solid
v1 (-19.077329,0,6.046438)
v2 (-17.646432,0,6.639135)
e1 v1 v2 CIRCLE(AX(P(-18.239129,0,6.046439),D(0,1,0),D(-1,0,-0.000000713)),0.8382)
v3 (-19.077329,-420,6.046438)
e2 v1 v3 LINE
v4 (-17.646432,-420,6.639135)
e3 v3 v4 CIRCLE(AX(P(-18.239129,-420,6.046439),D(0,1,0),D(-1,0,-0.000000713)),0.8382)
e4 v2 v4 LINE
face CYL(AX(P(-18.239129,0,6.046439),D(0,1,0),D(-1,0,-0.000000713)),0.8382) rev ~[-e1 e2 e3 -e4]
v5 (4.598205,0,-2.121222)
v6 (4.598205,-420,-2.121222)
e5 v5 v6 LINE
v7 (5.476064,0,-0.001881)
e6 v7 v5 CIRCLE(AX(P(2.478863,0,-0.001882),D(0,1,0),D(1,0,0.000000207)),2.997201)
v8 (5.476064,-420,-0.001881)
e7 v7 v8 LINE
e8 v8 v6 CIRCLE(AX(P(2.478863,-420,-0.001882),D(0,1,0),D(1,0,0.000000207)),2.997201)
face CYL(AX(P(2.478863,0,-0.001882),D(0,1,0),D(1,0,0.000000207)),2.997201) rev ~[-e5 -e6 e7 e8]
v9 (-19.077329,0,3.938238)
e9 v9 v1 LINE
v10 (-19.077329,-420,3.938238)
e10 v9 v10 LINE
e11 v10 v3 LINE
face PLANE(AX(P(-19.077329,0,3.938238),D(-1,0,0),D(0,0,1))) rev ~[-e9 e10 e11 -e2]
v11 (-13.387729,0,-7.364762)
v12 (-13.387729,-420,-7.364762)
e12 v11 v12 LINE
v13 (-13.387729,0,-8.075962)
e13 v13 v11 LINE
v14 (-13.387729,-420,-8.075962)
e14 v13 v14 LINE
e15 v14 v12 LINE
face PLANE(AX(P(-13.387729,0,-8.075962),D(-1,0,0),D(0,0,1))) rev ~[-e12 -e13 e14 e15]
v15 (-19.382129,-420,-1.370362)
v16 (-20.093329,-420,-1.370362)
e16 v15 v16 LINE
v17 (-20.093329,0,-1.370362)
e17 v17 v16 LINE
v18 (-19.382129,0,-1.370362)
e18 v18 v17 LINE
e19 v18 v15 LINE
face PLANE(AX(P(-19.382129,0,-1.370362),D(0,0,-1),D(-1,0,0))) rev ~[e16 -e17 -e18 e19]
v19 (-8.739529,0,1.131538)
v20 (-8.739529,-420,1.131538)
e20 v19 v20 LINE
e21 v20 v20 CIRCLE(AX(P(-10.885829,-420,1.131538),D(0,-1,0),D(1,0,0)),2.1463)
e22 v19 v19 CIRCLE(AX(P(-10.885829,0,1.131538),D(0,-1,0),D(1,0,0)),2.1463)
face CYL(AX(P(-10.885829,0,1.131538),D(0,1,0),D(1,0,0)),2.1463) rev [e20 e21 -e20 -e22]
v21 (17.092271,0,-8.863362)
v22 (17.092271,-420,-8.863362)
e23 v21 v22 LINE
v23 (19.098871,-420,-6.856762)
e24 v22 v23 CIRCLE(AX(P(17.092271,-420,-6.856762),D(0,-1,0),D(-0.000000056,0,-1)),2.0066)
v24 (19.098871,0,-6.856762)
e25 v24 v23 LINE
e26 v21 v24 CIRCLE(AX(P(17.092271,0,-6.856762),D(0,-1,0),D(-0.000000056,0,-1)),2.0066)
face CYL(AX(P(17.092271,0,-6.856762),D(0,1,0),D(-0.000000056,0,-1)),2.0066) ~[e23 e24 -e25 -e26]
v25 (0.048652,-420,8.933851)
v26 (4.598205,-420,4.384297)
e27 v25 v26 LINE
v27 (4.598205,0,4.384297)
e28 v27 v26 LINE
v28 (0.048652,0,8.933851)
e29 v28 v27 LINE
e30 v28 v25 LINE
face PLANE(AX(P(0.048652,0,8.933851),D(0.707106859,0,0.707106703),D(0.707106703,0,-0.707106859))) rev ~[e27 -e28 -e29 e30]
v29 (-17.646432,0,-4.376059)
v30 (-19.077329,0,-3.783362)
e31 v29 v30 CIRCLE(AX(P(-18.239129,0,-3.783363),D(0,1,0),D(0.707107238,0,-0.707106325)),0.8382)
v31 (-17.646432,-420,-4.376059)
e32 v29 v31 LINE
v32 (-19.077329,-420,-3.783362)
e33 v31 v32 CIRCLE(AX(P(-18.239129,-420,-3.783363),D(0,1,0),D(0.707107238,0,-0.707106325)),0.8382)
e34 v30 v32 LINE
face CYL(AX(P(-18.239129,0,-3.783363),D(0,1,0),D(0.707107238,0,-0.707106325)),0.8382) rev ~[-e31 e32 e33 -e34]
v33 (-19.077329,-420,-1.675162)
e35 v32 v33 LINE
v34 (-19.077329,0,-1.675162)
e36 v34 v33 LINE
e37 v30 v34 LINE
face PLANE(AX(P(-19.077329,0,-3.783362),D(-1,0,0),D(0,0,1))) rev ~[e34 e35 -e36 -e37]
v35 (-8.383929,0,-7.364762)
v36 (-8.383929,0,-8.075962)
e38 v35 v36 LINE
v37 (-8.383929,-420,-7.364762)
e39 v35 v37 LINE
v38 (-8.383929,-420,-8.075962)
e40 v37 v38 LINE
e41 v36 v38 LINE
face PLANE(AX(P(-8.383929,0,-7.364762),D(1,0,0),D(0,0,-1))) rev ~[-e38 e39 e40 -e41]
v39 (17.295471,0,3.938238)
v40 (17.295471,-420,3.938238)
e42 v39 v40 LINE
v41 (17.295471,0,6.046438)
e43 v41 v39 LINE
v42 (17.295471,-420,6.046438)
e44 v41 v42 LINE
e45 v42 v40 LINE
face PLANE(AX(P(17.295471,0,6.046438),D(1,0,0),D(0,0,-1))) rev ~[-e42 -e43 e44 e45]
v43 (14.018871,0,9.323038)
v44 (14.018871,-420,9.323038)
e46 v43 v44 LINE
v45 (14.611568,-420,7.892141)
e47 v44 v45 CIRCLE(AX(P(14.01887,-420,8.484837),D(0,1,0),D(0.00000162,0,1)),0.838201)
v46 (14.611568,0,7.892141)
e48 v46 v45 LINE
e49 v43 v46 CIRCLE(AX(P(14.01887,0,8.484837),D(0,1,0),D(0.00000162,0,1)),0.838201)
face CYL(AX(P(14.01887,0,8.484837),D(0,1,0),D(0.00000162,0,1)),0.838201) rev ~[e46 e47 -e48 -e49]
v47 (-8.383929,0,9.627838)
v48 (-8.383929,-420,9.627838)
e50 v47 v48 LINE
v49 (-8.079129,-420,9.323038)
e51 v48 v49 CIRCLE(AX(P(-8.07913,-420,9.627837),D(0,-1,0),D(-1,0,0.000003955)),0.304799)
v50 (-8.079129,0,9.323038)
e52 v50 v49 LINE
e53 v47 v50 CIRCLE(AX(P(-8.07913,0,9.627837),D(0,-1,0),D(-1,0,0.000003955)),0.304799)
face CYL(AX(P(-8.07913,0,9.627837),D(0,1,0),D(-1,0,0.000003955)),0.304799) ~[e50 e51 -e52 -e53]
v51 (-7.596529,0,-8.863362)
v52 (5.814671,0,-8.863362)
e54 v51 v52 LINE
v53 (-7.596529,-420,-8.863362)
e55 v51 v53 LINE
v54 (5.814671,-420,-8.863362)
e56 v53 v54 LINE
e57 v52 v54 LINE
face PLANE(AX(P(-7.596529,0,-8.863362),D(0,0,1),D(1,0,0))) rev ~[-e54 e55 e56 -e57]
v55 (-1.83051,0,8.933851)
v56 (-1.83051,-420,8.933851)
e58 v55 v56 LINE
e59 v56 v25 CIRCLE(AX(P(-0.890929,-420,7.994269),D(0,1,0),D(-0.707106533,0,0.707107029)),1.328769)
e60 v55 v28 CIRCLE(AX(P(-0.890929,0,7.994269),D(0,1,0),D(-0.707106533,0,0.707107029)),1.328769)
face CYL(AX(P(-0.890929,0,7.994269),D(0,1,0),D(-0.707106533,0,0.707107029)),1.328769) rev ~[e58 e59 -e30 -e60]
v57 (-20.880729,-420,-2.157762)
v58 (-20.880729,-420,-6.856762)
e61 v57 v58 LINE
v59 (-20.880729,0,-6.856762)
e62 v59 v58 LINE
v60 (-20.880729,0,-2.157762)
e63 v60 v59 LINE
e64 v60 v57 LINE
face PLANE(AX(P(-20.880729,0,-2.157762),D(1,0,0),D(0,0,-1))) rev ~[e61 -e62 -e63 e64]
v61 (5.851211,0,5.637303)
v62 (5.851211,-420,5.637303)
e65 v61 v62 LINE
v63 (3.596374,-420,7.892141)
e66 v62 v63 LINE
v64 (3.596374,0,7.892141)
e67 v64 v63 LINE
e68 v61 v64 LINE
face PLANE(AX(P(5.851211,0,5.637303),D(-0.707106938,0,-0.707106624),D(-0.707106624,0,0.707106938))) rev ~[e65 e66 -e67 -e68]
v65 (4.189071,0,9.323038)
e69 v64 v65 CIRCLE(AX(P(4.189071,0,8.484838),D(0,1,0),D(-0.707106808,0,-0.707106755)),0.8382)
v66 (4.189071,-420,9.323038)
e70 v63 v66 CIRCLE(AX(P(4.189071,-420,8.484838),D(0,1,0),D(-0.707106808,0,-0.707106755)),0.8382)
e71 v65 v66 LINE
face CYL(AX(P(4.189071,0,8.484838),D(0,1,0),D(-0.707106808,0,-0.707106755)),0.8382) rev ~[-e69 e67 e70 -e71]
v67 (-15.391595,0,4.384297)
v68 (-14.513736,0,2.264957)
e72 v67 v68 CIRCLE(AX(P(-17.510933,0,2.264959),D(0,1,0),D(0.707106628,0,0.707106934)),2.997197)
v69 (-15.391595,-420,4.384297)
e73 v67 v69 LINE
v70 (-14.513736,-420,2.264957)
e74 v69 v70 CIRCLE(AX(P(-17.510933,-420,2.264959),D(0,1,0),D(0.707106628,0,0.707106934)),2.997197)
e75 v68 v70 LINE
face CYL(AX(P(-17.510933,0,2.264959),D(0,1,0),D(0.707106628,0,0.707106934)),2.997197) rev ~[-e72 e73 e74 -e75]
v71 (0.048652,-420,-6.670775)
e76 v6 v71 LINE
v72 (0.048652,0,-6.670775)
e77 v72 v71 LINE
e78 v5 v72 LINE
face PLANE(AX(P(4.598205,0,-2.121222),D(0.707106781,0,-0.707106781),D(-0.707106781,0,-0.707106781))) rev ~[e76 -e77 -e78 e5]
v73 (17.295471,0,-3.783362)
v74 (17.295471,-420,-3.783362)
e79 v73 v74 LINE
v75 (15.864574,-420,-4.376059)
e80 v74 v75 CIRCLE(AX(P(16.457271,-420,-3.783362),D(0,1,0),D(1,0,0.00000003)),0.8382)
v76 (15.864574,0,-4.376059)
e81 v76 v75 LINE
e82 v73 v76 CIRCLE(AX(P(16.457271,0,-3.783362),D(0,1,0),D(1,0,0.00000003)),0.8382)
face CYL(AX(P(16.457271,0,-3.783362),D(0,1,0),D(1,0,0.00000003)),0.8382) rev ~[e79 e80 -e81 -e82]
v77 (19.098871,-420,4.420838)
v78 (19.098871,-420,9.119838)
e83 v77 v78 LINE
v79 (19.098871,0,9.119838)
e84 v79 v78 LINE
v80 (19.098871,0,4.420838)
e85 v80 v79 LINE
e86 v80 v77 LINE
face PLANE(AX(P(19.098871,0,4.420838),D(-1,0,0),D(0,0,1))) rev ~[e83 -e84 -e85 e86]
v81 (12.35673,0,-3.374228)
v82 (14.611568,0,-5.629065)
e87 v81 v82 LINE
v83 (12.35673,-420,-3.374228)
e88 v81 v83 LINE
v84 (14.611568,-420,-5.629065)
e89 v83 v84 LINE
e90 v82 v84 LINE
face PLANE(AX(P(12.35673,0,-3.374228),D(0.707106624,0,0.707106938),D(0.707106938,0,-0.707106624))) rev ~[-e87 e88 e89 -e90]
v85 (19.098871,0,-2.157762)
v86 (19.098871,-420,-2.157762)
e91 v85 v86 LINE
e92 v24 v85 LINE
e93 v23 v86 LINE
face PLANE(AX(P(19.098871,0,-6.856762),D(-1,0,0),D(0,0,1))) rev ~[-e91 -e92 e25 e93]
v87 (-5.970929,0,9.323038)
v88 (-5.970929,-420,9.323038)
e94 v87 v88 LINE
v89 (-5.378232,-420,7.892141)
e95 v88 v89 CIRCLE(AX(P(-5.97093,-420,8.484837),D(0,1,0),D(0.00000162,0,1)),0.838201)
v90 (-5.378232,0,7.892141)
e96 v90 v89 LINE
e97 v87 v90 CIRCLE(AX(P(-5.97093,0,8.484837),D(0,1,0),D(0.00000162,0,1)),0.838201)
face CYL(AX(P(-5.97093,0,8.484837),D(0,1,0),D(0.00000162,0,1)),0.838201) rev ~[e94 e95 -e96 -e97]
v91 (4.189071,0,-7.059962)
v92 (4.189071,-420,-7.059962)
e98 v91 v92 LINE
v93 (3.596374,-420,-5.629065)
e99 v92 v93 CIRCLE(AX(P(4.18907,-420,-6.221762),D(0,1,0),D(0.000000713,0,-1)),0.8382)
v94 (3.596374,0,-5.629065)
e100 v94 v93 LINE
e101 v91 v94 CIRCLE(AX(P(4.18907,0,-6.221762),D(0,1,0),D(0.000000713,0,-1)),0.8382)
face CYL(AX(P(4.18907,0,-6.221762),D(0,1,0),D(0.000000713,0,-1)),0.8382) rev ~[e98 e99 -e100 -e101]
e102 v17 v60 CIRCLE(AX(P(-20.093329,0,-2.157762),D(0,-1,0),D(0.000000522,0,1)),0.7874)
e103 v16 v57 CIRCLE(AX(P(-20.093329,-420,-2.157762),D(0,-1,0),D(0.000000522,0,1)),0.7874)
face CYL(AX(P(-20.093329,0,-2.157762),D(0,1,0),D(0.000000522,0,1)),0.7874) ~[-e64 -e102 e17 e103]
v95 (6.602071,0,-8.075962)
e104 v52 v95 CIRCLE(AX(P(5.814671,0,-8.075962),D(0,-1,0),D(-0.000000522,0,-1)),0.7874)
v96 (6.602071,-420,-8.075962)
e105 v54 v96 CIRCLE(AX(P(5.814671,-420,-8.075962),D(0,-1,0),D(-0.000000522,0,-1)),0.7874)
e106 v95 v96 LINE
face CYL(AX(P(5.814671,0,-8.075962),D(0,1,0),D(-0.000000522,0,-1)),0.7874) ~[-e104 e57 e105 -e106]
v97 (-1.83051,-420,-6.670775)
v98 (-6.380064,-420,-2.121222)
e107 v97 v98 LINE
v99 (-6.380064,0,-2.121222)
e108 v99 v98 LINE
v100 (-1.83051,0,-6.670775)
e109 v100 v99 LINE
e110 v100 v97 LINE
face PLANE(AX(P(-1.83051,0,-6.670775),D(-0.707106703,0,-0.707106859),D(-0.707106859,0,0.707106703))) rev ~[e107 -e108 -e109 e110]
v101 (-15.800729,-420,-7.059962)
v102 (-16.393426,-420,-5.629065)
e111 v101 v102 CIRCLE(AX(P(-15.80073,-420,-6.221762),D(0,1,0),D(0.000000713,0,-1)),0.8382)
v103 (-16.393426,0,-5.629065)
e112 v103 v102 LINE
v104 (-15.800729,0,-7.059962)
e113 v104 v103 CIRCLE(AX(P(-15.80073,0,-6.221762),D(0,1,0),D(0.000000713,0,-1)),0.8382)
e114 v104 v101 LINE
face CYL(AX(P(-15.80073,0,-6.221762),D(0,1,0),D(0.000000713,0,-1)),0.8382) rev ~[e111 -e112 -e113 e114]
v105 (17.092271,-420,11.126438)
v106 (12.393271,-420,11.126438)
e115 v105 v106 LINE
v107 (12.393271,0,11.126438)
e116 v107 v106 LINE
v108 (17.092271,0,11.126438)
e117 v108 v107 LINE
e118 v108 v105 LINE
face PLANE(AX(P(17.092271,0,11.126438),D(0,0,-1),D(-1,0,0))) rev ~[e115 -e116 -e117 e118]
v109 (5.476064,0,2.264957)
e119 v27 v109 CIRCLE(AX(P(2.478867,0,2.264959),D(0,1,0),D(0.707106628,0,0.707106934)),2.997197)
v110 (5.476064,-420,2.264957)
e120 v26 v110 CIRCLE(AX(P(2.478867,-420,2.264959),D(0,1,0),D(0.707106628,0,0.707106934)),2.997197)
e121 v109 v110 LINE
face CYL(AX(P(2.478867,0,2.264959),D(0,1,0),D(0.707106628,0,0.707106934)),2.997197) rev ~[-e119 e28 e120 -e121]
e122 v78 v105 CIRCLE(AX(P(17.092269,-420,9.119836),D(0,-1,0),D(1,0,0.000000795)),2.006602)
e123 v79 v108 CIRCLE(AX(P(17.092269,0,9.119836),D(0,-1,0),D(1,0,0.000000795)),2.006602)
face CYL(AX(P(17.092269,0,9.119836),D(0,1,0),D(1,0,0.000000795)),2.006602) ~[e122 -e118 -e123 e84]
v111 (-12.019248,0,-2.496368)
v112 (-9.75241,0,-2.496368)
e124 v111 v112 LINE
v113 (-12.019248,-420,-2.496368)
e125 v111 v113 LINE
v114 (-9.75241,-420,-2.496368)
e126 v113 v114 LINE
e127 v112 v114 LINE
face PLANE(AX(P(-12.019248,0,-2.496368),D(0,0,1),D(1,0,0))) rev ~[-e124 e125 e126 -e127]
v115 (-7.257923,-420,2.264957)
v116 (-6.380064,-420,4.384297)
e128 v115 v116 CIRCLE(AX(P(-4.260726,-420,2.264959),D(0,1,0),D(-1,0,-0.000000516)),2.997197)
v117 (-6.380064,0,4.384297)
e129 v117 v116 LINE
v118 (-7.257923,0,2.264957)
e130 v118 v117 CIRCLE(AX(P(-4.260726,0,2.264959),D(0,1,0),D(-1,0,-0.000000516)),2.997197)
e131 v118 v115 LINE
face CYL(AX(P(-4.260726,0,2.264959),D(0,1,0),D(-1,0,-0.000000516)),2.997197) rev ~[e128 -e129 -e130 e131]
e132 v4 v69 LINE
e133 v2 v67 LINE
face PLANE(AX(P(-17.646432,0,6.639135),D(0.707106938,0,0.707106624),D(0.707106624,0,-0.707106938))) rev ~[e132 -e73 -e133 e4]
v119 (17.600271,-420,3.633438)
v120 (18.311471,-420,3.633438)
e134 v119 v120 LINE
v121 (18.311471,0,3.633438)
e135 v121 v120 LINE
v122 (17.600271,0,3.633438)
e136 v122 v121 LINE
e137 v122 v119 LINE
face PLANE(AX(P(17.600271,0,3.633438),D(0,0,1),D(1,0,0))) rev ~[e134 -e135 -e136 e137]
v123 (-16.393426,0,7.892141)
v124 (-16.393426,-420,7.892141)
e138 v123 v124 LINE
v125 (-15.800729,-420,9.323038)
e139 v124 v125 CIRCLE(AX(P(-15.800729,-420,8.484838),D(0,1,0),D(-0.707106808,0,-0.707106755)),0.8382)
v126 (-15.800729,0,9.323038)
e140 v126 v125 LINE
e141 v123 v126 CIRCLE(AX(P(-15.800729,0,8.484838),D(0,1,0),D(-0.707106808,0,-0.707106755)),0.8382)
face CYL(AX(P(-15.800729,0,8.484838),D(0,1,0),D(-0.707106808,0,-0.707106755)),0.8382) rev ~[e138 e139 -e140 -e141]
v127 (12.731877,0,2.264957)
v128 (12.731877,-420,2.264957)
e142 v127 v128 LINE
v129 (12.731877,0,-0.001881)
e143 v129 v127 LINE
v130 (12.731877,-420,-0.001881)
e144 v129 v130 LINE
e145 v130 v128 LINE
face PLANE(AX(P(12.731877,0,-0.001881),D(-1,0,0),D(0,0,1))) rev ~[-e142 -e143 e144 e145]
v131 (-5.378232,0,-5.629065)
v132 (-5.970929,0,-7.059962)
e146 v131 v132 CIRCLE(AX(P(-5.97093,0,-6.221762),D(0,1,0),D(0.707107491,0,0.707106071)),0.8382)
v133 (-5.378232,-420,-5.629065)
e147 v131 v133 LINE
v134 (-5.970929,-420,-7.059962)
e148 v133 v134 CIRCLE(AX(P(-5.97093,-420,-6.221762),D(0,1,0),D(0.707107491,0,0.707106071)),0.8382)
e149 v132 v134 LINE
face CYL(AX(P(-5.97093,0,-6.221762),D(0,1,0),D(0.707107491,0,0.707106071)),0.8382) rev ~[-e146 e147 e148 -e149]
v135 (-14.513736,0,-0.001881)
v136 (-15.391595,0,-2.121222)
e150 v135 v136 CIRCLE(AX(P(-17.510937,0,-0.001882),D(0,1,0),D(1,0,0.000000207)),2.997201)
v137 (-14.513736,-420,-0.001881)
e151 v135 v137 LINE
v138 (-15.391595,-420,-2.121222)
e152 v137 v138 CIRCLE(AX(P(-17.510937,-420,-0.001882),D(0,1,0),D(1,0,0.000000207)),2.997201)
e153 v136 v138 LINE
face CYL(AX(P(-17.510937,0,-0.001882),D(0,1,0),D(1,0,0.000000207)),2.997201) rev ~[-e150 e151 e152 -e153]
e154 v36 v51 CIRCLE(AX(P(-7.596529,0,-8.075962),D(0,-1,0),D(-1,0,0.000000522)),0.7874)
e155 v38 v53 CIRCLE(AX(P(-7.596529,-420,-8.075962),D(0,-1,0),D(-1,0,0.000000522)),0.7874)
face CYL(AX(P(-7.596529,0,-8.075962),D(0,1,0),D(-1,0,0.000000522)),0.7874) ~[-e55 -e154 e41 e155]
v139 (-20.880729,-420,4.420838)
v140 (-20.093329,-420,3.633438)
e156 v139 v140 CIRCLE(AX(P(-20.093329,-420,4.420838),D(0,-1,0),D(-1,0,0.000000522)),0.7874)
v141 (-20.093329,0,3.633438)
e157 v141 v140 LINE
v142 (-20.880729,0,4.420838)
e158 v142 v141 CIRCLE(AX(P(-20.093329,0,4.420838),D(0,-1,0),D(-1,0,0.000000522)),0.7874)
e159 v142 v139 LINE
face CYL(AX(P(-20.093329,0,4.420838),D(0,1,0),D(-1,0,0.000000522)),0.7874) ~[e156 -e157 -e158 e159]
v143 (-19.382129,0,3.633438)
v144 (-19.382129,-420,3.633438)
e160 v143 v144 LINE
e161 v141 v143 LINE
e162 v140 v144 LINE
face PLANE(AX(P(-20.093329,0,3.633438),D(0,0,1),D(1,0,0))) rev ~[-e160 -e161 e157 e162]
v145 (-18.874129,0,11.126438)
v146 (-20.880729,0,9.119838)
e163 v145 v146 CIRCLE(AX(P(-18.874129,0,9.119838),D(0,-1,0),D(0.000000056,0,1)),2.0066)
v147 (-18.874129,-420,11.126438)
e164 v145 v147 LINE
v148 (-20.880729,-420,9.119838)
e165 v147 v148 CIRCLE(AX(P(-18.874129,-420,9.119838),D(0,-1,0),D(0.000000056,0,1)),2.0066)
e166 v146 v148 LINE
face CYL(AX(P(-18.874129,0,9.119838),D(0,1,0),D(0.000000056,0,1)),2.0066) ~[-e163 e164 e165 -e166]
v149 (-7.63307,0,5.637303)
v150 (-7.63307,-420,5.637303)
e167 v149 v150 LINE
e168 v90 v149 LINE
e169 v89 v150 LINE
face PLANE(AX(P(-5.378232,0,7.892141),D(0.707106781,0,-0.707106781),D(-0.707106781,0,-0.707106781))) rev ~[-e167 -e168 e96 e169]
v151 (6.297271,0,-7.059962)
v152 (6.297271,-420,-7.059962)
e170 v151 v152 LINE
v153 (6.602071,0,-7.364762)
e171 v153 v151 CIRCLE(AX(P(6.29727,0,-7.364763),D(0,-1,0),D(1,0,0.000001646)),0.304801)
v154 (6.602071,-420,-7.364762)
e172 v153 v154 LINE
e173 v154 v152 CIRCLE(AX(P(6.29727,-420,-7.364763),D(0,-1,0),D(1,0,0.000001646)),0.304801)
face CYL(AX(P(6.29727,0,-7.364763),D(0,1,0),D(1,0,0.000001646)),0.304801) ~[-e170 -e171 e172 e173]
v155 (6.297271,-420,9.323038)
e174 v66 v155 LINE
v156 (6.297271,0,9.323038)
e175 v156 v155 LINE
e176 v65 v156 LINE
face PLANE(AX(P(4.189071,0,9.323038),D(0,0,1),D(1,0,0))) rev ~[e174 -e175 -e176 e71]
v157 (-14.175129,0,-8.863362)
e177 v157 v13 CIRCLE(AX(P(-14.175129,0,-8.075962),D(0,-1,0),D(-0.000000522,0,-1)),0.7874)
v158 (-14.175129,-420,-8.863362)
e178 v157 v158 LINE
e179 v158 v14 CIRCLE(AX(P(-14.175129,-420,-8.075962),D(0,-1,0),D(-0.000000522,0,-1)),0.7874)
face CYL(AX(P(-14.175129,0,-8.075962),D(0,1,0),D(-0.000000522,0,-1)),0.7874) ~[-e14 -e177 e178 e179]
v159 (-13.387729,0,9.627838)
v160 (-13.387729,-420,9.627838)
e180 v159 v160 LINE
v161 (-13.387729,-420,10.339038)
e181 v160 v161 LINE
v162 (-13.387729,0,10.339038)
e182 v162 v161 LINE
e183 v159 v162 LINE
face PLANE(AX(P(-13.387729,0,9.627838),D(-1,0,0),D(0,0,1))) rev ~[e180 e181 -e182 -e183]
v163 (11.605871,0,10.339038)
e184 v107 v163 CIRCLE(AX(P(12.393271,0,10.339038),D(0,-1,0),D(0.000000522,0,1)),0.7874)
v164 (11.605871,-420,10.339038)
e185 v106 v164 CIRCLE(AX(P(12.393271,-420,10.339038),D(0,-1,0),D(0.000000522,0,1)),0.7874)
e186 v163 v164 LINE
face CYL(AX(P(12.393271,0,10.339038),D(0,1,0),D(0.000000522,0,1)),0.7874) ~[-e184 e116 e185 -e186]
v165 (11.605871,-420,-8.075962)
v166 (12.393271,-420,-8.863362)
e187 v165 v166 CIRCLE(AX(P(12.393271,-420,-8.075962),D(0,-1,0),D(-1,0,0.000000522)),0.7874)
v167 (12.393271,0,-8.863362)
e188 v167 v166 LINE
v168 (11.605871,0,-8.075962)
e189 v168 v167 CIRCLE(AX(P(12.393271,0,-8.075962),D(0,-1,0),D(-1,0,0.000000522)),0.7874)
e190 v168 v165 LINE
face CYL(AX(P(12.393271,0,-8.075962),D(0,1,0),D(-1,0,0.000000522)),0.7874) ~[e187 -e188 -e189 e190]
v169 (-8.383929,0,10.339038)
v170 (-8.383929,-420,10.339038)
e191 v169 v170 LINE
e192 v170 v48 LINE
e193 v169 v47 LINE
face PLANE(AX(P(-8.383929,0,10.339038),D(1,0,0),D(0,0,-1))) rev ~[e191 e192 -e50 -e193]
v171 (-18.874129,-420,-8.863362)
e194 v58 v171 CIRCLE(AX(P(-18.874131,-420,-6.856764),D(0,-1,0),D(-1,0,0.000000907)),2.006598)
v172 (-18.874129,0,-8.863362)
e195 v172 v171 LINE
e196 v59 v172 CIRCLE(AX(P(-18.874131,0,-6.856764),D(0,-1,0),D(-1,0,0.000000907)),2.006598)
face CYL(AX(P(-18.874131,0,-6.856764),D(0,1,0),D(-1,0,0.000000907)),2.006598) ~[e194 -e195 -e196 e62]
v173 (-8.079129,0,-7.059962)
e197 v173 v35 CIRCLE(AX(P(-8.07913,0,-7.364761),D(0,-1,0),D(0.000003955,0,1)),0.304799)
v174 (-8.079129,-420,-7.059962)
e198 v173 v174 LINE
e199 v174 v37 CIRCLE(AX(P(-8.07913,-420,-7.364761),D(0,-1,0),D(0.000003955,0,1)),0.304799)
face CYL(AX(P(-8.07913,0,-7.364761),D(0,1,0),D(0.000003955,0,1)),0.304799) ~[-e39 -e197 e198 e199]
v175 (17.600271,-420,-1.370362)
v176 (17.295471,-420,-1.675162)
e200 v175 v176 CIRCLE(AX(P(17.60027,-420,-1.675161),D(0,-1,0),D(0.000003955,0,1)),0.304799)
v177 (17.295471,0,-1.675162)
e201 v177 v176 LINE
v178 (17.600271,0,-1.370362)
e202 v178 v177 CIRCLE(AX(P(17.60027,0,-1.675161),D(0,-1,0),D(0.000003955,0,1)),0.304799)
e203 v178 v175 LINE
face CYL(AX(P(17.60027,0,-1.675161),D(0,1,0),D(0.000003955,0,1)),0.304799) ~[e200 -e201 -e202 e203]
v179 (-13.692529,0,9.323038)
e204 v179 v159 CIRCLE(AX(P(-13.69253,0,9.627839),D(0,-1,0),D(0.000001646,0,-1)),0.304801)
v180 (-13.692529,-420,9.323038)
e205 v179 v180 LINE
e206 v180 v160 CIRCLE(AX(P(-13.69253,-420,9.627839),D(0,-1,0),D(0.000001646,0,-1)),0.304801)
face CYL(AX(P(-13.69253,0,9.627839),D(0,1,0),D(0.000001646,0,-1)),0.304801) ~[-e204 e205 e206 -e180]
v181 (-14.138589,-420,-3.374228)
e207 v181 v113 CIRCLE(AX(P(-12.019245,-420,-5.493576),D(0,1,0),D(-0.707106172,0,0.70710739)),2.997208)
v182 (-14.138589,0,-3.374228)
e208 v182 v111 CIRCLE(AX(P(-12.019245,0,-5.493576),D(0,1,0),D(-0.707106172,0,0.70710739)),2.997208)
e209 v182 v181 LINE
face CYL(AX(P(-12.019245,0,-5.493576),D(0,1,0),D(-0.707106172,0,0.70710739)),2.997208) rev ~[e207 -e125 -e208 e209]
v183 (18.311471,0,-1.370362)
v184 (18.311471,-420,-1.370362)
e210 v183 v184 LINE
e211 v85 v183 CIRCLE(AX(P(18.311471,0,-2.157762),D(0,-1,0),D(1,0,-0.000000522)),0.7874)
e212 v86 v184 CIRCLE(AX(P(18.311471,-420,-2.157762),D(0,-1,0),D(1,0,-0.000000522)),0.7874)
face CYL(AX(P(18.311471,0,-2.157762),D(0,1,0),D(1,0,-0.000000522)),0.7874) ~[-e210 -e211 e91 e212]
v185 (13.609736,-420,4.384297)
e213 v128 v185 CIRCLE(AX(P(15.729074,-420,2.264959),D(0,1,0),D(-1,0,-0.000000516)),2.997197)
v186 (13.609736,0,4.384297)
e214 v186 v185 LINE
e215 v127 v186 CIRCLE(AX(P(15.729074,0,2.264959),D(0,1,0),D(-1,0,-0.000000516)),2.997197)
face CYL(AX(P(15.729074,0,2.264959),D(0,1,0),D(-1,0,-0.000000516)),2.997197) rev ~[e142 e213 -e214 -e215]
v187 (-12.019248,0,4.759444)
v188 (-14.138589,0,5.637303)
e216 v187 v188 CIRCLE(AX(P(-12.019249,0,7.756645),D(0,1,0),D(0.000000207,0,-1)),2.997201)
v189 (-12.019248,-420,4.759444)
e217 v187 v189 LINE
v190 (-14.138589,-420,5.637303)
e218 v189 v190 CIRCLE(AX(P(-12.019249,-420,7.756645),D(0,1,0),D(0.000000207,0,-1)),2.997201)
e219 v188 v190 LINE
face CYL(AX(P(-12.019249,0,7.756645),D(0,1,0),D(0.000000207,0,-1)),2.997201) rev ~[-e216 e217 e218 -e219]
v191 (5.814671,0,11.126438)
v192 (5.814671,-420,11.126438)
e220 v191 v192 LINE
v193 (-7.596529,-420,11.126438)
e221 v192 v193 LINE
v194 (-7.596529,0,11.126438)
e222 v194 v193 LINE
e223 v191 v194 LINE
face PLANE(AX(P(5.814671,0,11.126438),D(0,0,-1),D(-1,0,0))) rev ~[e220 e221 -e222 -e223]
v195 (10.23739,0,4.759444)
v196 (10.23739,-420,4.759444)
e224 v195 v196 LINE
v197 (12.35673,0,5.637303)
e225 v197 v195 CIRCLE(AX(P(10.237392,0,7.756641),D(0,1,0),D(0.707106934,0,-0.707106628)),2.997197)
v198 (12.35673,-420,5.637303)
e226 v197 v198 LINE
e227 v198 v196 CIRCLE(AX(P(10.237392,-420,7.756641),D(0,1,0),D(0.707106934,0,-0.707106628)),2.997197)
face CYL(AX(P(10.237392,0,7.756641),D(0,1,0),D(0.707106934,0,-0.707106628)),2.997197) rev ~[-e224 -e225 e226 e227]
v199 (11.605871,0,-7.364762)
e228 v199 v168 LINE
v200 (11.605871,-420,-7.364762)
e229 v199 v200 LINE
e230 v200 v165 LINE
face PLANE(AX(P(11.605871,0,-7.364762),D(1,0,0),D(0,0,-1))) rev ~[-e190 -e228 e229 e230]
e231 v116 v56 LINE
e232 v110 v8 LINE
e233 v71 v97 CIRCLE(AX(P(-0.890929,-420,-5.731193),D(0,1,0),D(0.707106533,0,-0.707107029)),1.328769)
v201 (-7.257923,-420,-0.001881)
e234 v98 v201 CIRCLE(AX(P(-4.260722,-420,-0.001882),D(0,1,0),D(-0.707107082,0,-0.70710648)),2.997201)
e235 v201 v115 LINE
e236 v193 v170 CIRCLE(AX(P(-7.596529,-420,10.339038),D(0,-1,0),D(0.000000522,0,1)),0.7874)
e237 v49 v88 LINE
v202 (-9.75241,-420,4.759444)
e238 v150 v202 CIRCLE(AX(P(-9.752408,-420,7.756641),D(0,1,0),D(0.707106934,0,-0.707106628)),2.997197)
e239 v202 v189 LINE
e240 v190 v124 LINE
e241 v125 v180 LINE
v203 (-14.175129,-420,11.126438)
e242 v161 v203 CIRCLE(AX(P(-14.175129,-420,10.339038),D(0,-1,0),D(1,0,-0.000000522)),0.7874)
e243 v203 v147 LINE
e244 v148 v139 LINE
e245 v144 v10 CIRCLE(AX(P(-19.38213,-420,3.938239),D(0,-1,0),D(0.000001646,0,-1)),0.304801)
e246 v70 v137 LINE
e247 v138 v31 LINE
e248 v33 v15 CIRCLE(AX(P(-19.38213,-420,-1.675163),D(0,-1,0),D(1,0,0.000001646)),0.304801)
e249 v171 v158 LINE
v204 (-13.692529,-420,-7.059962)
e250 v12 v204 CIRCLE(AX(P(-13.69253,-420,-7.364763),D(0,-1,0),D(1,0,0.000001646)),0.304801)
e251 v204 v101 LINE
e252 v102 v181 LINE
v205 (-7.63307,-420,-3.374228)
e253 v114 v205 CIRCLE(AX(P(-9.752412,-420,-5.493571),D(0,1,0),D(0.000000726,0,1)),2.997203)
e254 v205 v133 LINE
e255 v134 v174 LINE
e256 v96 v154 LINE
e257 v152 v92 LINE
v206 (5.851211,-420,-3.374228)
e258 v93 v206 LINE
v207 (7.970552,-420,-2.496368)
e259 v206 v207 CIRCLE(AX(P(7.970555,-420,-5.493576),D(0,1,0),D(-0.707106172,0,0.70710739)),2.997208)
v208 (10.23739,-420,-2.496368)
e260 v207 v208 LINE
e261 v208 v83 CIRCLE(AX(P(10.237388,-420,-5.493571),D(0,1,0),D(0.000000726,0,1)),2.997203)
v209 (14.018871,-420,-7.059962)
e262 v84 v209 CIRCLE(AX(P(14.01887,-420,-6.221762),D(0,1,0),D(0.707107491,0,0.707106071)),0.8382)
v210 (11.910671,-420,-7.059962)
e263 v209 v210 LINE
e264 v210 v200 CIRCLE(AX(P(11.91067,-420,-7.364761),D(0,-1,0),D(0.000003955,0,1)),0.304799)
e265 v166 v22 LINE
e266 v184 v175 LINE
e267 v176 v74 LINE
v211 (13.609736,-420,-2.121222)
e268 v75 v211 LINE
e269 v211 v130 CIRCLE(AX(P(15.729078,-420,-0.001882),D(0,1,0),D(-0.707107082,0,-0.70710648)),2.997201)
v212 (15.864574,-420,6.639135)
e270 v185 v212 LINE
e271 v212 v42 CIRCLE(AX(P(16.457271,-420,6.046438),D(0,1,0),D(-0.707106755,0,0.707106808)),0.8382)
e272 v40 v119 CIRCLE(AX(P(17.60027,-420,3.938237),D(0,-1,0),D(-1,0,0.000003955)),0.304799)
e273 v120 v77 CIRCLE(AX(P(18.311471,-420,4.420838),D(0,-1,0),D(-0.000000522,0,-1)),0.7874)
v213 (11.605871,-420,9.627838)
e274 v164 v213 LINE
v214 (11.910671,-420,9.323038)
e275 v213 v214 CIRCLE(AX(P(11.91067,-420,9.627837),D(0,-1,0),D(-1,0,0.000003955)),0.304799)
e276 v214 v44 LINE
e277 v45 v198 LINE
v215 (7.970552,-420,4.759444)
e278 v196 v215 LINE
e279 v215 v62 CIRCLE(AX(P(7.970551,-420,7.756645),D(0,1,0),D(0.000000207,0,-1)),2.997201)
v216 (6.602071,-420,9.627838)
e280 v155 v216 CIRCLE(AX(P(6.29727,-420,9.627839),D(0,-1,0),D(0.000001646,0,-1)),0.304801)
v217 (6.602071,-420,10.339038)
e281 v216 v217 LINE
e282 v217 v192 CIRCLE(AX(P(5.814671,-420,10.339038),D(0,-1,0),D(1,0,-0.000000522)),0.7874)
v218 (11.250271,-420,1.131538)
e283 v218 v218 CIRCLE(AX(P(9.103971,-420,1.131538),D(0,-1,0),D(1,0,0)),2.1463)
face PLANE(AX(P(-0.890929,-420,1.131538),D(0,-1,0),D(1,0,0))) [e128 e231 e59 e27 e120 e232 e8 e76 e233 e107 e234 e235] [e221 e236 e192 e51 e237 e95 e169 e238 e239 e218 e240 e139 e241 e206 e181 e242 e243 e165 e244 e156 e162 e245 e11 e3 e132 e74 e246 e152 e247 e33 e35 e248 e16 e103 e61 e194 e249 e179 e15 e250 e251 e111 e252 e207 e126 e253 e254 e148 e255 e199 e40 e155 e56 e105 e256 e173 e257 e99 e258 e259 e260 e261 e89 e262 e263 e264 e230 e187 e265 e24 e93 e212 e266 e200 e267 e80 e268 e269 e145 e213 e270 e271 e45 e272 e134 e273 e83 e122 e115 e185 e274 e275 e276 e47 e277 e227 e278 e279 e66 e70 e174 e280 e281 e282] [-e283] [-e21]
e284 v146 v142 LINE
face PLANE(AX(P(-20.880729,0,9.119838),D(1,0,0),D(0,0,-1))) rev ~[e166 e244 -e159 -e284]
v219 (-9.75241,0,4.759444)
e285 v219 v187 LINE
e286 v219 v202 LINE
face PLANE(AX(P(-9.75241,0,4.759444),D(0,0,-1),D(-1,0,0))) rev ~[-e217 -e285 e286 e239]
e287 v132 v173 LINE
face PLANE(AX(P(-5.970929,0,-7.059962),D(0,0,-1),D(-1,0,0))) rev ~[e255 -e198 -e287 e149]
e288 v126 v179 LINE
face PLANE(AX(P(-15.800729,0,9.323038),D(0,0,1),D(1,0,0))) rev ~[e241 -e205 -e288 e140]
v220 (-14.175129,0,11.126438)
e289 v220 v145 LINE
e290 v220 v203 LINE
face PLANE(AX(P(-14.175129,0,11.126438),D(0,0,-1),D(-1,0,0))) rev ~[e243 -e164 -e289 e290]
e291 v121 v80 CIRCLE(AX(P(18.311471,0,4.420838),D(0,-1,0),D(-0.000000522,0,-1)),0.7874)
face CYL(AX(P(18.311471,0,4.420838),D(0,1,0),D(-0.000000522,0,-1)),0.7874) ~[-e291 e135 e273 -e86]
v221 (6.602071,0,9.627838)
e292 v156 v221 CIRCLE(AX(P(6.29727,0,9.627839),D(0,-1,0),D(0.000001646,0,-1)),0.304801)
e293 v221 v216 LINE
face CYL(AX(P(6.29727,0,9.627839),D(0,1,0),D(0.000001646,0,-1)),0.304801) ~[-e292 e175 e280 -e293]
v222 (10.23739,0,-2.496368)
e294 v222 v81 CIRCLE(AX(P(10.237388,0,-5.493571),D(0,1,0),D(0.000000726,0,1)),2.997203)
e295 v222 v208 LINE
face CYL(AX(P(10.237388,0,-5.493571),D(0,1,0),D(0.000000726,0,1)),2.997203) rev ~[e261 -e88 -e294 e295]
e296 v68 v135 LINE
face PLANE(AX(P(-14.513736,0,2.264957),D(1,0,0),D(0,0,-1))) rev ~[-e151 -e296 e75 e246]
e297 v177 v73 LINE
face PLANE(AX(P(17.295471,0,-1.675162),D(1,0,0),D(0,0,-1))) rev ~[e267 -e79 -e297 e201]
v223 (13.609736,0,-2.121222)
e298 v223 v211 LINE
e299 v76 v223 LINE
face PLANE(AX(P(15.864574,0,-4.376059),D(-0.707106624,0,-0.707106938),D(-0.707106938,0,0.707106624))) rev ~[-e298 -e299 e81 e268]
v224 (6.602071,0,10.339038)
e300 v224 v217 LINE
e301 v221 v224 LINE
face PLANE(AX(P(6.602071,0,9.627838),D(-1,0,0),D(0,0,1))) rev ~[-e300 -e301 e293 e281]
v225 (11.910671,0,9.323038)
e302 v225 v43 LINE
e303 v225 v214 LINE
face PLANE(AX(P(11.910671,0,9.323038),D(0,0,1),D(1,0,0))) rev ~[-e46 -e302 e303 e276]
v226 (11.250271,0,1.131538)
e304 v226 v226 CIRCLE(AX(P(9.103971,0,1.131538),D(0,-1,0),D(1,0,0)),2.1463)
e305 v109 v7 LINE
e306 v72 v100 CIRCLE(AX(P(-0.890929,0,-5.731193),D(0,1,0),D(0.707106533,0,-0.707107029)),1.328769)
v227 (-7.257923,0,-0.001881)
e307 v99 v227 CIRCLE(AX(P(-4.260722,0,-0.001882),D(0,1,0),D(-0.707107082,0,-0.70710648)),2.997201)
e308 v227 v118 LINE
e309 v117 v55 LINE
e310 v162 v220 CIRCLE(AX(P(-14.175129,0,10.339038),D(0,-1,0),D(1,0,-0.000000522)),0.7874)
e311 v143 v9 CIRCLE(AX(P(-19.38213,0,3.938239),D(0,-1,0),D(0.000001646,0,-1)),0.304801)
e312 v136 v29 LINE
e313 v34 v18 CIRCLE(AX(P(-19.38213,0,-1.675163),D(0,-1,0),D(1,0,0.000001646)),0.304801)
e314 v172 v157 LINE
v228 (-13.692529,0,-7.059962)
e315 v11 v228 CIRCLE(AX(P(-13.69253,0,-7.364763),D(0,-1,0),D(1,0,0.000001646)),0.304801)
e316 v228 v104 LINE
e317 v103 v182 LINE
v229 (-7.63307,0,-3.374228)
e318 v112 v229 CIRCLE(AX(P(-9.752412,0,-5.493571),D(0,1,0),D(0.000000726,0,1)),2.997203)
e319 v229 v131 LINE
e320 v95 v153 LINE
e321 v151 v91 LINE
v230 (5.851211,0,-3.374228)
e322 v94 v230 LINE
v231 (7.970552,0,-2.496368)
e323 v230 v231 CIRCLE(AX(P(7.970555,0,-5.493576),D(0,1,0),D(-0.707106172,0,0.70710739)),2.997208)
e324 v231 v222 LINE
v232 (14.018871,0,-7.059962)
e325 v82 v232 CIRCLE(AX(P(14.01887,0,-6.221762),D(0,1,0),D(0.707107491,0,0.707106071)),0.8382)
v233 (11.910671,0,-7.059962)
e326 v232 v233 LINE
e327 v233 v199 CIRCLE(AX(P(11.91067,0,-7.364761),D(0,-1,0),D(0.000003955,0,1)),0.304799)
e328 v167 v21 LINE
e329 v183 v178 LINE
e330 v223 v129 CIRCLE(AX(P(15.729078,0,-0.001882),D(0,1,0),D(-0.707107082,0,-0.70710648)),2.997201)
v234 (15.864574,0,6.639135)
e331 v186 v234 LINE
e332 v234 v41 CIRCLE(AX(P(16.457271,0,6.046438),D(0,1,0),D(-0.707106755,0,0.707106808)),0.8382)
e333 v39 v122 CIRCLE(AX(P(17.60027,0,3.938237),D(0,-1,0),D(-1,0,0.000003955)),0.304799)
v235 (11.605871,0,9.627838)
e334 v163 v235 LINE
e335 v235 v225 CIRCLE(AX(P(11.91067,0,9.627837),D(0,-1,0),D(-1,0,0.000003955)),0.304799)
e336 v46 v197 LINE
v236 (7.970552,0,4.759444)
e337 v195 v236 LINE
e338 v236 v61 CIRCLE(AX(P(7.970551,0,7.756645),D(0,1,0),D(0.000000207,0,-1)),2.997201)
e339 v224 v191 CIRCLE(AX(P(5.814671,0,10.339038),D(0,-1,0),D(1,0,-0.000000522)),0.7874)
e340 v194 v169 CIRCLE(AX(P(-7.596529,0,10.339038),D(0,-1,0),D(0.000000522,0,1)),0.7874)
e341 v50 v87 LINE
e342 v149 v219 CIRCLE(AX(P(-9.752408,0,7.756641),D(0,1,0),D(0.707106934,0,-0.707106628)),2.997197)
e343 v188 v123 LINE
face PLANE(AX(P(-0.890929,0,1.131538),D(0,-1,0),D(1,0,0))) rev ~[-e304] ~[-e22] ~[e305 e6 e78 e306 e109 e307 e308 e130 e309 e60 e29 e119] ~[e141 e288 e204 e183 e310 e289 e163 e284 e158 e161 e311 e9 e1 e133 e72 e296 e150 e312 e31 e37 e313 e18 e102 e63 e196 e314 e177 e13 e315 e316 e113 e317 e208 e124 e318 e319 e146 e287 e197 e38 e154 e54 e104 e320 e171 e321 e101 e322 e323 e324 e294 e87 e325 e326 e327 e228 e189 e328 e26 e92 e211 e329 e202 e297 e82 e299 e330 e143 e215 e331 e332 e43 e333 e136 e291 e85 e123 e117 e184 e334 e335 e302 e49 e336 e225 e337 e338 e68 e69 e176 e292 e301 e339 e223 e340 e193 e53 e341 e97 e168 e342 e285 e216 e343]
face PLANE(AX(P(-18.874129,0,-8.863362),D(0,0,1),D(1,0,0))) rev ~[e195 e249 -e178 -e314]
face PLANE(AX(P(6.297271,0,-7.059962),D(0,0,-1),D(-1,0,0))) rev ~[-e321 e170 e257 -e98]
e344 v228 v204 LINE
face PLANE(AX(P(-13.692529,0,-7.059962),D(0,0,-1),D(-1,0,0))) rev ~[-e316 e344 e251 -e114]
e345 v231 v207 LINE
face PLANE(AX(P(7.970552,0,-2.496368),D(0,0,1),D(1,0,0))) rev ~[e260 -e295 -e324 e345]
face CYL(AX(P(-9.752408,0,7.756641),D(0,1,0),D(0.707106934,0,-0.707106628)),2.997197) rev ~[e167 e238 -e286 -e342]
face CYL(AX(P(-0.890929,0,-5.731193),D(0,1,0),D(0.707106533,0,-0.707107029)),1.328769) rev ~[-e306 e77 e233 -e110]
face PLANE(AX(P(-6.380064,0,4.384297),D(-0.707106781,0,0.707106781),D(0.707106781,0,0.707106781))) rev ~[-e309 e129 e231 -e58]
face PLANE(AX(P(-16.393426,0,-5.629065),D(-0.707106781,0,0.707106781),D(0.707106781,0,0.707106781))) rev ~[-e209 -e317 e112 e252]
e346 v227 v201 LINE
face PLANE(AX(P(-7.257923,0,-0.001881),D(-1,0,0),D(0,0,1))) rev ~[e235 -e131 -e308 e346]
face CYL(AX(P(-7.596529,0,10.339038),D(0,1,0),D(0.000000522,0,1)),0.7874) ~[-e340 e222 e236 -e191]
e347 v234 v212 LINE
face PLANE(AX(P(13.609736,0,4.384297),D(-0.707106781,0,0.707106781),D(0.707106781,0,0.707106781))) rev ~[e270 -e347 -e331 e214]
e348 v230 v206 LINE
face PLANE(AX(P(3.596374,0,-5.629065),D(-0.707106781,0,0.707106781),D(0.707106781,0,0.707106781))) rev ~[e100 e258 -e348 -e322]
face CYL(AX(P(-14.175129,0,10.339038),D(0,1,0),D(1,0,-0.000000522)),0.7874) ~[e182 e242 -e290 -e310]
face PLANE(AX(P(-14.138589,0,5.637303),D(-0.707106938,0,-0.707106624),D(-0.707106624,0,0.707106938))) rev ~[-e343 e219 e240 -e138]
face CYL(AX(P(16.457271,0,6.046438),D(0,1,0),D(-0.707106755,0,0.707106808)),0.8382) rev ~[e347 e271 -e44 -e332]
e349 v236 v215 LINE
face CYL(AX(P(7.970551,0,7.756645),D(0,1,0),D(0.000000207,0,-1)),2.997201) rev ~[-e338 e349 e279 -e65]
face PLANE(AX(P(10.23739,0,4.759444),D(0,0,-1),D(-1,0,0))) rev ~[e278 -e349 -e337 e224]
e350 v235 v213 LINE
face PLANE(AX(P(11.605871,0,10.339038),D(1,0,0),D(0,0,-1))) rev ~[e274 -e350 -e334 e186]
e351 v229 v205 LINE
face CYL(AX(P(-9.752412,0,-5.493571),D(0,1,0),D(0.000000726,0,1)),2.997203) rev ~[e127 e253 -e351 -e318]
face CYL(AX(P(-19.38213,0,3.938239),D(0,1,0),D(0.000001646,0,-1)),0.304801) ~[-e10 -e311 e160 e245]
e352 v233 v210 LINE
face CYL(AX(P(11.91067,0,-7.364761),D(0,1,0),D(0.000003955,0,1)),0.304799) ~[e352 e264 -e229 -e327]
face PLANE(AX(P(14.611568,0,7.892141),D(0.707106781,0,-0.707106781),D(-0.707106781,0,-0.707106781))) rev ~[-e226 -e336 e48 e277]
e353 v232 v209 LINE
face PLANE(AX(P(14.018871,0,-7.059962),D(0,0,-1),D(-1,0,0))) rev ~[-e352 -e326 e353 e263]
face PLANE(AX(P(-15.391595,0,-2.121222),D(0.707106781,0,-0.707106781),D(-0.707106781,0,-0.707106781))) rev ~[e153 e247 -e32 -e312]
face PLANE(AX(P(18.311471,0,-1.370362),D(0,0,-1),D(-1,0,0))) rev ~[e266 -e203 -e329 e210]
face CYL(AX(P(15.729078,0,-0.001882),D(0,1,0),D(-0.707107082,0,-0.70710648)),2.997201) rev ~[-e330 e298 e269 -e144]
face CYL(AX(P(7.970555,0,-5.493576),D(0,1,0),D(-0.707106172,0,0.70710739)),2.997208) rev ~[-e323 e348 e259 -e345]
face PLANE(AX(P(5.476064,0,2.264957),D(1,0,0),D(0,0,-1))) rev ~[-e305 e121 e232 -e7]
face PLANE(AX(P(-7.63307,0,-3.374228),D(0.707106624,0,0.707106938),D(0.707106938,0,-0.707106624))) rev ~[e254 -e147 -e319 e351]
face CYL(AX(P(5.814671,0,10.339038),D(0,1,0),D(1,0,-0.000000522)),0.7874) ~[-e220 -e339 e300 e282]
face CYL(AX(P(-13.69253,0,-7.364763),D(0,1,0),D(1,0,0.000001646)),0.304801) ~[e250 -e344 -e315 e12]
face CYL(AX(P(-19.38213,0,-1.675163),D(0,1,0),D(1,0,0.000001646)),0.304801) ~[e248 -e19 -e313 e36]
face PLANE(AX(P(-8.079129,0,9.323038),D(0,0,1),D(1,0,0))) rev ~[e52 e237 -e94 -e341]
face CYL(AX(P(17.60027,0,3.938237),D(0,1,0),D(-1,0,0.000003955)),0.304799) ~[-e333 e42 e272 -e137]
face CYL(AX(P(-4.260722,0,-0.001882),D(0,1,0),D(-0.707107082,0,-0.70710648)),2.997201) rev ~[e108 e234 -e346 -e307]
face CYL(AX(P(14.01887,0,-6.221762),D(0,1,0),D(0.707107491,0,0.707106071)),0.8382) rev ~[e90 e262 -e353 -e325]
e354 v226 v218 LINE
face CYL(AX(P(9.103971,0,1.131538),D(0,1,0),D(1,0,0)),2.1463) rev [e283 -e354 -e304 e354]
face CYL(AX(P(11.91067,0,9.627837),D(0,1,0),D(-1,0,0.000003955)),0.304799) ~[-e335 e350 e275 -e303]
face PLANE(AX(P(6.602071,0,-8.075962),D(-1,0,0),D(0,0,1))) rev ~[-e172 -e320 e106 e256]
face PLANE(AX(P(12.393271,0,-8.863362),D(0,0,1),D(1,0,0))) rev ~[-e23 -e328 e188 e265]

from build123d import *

# Parameters (mm, degrees)
F0_R     = 2.1463
F1_DEPTH = 420


with BuildPart() as f1:
    # F0 (on Front) → F1 (new body)
    with BuildSketch(Plane.XZ):
        with BuildLine():
            Line((-9.75241, 4.759444), (-12.019248, 4.759444))
            ThreePointArc((-12.019248, 4.759444), (-13.166227, 4.987592), (-14.138589, 5.637303))
            Line((-14.138589, 5.637303), (-16.393426, 7.892141))
            ThreePointArc((-16.393426, 7.892141), (-16.575125, 8.805603), (-15.800729, 9.323038))
            Line((-15.800729, 9.323038), (-13.692529, 9.323038))
            ThreePointArc((-13.692529, 9.323038), (-13.477003, 9.412312), (-13.387729, 9.627838))
            Line((-13.387729, 9.627838), (-13.387729, 10.339038))
            ThreePointArc((-13.387729, 10.339038), (-13.618353, 10.895814), (-14.175129, 11.126438))
            Line((-14.175129, 11.126438), (-18.874129, 11.126438))
            ThreePointArc((-18.874129, 11.126438), (-20.29301, 10.538718), (-20.880729, 9.119838))
            Line((-20.880729, 9.119838), (-20.880729, 4.420838))
            ThreePointArc((-20.880729, 4.420838), (-20.650105, 3.864062), (-20.093329, 3.633438))
            Line((-20.093329, 3.633438), (-19.382129, 3.633438))
            ThreePointArc((-19.382129, 3.633438), (-19.166603, 3.722712), (-19.077329, 3.938238))
            Line((-19.077329, 3.938238), (-19.077329, 6.046438))
            ThreePointArc((-19.077329, 6.046438), (-18.559895, 6.820834), (-17.646432, 6.639135))
            Line((-17.646432, 6.639135), (-15.391595, 4.384297))
            ThreePointArc((-15.391595, 4.384297), (-14.741884, 3.411936), (-14.513736, 2.264957))
            Line((-14.513736, 2.264957), (-14.513736, -0.001881))
            ThreePointArc((-14.513736, -0.001881), (-14.741884, -1.14886), (-15.391595, -2.121222))
            Line((-15.391595, -2.121222), (-17.646432, -4.376059))
            ThreePointArc((-17.646432, -4.376059), (-18.559895, -4.557758), (-19.077329, -3.783362))
            Line((-19.077329, -3.783362), (-19.077329, -1.675162))
            ThreePointArc((-19.077329, -1.675162), (-19.166603, -1.459636), (-19.382129, -1.370362))
            Line((-19.382129, -1.370362), (-20.093329, -1.370362))
            ThreePointArc((-20.093329, -1.370362), (-20.650105, -1.600986), (-20.880729, -2.157762))
            Line((-20.880729, -2.157762), (-20.880729, -6.856762))
            ThreePointArc((-20.880729, -6.856762), (-20.29301, -8.275643), (-18.874129, -8.863362))
            Line((-18.874129, -8.863362), (-14.175129, -8.863362))
            ThreePointArc((-14.175129, -8.863362), (-13.618353, -8.632738), (-13.387729, -8.075962))
            Line((-13.387729, -8.075962), (-13.387729, -7.364762))
            ThreePointArc((-13.387729, -7.364762), (-13.477003, -7.149236), (-13.692529, -7.059962))
            Line((-13.692529, -7.059962), (-15.800729, -7.059962))
            ThreePointArc((-15.800729, -7.059962), (-16.575125, -6.542528), (-16.393426, -5.629065))
            Line((-16.393426, -5.629065), (-14.138589, -3.374228))
            ThreePointArc((-14.138589, -3.374228), (-13.166227, -2.724517), (-12.019248, -2.496368))
            Line((-12.019248, -2.496368), (-9.75241, -2.496368))
            ThreePointArc((-9.75241, -2.496368), (-8.605431, -2.724517), (-7.63307, -3.374228))
            Line((-7.63307, -3.374228), (-5.378232, -5.629065))
            ThreePointArc((-5.378232, -5.629065), (-5.196534, -6.542528), (-5.970929, -7.059962))
            Line((-5.970929, -7.059962), (-8.079129, -7.059962))
            ThreePointArc((-8.079129, -7.059962), (-8.294656, -7.149236), (-8.383929, -7.364762))
            Line((-8.383929, -7.364762), (-8.383929, -8.075962))
            ThreePointArc((-8.383929, -8.075962), (-8.153305, -8.632738), (-7.596529, -8.863362))
            Line((-7.596529, -8.863362), (5.814671, -8.863362))
            ThreePointArc((5.814671, -8.863362), (6.371447, -8.632738), (6.602071, -8.075962))
            Line((6.602071, -8.075962), (6.602071, -7.364762))
            ThreePointArc((6.602071, -7.364762), (6.512797, -7.149236), (6.297271, -7.059962))
            Line((6.297271, -7.059962), (4.189071, -7.059962))
            ThreePointArc((4.189071, -7.059962), (3.414675, -6.542528), (3.596374, -5.629065))
            Line((3.596374, -5.629065), (5.851211, -3.374228))
            ThreePointArc((5.851211, -3.374228), (6.823573, -2.724517), (7.970552, -2.496368))
            Line((7.970552, -2.496368), (10.23739, -2.496368))
            ThreePointArc((10.23739, -2.496368), (11.384369, -2.724517), (12.35673, -3.374228))
            Line((12.35673, -3.374228), (14.611568, -5.629065))
            ThreePointArc((14.611568, -5.629065), (14.793266, -6.542528), (14.018871, -7.059962))
            Line((14.018871, -7.059962), (11.910671, -7.059962))
            ThreePointArc((11.910671, -7.059962), (11.695144, -7.149236), (11.605871, -7.364762))
            Line((11.605871, -7.364762), (11.605871, -8.075962))
            ThreePointArc((11.605871, -8.075962), (11.836495, -8.632738), (12.393271, -8.863362))
            Line((12.393271, -8.863362), (17.092271, -8.863362))
            ThreePointArc((17.092271, -8.863362), (18.511151, -8.275643), (19.098871, -6.856762))
            Line((19.098871, -6.856762), (19.098871, -2.157762))
            ThreePointArc((19.098871, -2.157762), (18.868247, -1.600986), (18.311471, -1.370362))
            Line((18.311471, -1.370362), (17.600271, -1.370362))
            ThreePointArc((17.600271, -1.370362), (17.384744, -1.459636), (17.295471, -1.675162))
            Line((17.295471, -1.675162), (17.295471, -3.783362))
            ThreePointArc((17.295471, -3.783362), (16.778036, -4.557758), (15.864574, -4.376059))
            Line((15.864574, -4.376059), (13.609736, -2.121222))
            ThreePointArc((13.609736, -2.121222), (12.960025, -1.14886), (12.731877, -0.001881))
            Line((12.731877, -0.001881), (12.731877, 2.264957))
            ThreePointArc((12.731877, 2.264957), (12.960025, 3.411936), (13.609736, 4.384297))
            Line((13.609736, 4.384297), (15.864574, 6.639135))
            ThreePointArc((15.864574, 6.639135), (16.778036, 6.820834), (17.295471, 6.046438))
            Line((17.295471, 6.046438), (17.295471, 3.938238))
            ThreePointArc((17.295471, 3.938238), (17.384744, 3.722712), (17.600271, 3.633438))
            Line((17.600271, 3.633438), (18.311471, 3.633438))
            ThreePointArc((18.311471, 3.633438), (18.868247, 3.864062), (19.098871, 4.420838))
            Line((19.098871, 4.420838), (19.098871, 9.119838))
            ThreePointArc((19.098871, 9.119838), (18.511151, 10.538718), (17.092271, 11.126438))
            Line((17.092271, 11.126438), (12.393271, 11.126438))
            ThreePointArc((12.393271, 11.126438), (11.836495, 10.895814), (11.605871, 10.339038))
            Line((11.605871, 10.339038), (11.605871, 9.627838))
            ThreePointArc((11.605871, 9.627838), (11.695144, 9.412312), (11.910671, 9.323038))
            Line((11.910671, 9.323038), (14.018871, 9.323038))
            ThreePointArc((14.018871, 9.323038), (14.793266, 8.805603), (14.611568, 7.892141))
            Line((14.611568, 7.892141), (12.35673, 5.637303))
            ThreePointArc((12.35673, 5.637303), (11.384369, 4.987592), (10.23739, 4.759444))
            Line((10.23739, 4.759444), (7.970552, 4.759444))
            ThreePointArc((7.970552, 4.759444), (6.823573, 4.987592), (5.851211, 5.637303))
            Line((5.851211, 5.637303), (3.596374, 7.892141))
            ThreePointArc((3.596374, 7.892141), (3.414675, 8.805603), (4.189071, 9.323038))
            Line((4.189071, 9.323038), (6.297271, 9.323038))
            ThreePointArc((6.297271, 9.323038), (6.512797, 9.412312), (6.602071, 9.627838))
            Line((6.602071, 9.627838), (6.602071, 10.339038))
            ThreePointArc((6.602071, 10.339038), (6.371447, 10.895814), (5.814671, 11.126438))
            Line((5.814671, 11.126438), (-7.596529, 11.126438))
            ThreePointArc((-7.596529, 11.126438), (-8.153305, 10.895814), (-8.383929, 10.339038))
            Line((-8.383929, 10.339038), (-8.383929, 9.627838))
            ThreePointArc((-8.383929, 9.627838), (-8.294656, 9.412312), (-8.079129, 9.323038))
            Line((-8.079129, 9.323038), (-5.970929, 9.323038))
            ThreePointArc((-5.970929, 9.323038), (-5.196534, 8.805603), (-5.378232, 7.892141))
            Line((-5.378232, 7.892141), (-7.63307, 5.637303))
            ThreePointArc((-7.63307, 5.637303), (-8.605431, 4.987592), (-9.75241, 4.759444))
        make_face()
        with Locations((-10.885829, 1.131538)):
            Circle(F0_R, mode=Mode.SUBTRACT)
        with BuildLine():
            Line((-7.257923, -0.001881), (-7.257923, 2.264957))
            ThreePointArc((-7.257923, 2.264957), (-7.029775, 3.411936), (-6.380064, 4.384297))
            Line((-6.380064, 4.384297), (-1.83051, 8.933851))
            ThreePointArc((-1.83051, 8.933851), (-0.890929, 9.323038), (0.048652, 8.933851))
            Line((0.048652, 8.933851), (4.598205, 4.384297))
            ThreePointArc((4.598205, 4.384297), (5.247916, 3.411936), (5.476064, 2.264957))
            Line((5.476064, 2.264957), (5.476064, -0.001881))
            ThreePointArc((5.476064, -0.001881), (5.247916, -1.14886), (4.598205, -2.121222))
            Line((4.598205, -2.121222), (0.048652, -6.670775))
            ThreePointArc((0.048652, -6.670775), (-0.890929, -7.059962), (-1.83051, -6.670775))
            Line((-1.83051, -6.670775), (-6.380064, -2.121222))
            ThreePointArc((-6.380064, -2.121222), (-7.029775, -1.14886), (-7.257923, -0.001881))
        make_face(mode=Mode.SUBTRACT)
        with Locations((9.103971, 1.131538)):
            Circle(F0_R, mode=Mode.SUBTRACT)
    extrude(amount=F1_DEPTH)


solid = f1.part
